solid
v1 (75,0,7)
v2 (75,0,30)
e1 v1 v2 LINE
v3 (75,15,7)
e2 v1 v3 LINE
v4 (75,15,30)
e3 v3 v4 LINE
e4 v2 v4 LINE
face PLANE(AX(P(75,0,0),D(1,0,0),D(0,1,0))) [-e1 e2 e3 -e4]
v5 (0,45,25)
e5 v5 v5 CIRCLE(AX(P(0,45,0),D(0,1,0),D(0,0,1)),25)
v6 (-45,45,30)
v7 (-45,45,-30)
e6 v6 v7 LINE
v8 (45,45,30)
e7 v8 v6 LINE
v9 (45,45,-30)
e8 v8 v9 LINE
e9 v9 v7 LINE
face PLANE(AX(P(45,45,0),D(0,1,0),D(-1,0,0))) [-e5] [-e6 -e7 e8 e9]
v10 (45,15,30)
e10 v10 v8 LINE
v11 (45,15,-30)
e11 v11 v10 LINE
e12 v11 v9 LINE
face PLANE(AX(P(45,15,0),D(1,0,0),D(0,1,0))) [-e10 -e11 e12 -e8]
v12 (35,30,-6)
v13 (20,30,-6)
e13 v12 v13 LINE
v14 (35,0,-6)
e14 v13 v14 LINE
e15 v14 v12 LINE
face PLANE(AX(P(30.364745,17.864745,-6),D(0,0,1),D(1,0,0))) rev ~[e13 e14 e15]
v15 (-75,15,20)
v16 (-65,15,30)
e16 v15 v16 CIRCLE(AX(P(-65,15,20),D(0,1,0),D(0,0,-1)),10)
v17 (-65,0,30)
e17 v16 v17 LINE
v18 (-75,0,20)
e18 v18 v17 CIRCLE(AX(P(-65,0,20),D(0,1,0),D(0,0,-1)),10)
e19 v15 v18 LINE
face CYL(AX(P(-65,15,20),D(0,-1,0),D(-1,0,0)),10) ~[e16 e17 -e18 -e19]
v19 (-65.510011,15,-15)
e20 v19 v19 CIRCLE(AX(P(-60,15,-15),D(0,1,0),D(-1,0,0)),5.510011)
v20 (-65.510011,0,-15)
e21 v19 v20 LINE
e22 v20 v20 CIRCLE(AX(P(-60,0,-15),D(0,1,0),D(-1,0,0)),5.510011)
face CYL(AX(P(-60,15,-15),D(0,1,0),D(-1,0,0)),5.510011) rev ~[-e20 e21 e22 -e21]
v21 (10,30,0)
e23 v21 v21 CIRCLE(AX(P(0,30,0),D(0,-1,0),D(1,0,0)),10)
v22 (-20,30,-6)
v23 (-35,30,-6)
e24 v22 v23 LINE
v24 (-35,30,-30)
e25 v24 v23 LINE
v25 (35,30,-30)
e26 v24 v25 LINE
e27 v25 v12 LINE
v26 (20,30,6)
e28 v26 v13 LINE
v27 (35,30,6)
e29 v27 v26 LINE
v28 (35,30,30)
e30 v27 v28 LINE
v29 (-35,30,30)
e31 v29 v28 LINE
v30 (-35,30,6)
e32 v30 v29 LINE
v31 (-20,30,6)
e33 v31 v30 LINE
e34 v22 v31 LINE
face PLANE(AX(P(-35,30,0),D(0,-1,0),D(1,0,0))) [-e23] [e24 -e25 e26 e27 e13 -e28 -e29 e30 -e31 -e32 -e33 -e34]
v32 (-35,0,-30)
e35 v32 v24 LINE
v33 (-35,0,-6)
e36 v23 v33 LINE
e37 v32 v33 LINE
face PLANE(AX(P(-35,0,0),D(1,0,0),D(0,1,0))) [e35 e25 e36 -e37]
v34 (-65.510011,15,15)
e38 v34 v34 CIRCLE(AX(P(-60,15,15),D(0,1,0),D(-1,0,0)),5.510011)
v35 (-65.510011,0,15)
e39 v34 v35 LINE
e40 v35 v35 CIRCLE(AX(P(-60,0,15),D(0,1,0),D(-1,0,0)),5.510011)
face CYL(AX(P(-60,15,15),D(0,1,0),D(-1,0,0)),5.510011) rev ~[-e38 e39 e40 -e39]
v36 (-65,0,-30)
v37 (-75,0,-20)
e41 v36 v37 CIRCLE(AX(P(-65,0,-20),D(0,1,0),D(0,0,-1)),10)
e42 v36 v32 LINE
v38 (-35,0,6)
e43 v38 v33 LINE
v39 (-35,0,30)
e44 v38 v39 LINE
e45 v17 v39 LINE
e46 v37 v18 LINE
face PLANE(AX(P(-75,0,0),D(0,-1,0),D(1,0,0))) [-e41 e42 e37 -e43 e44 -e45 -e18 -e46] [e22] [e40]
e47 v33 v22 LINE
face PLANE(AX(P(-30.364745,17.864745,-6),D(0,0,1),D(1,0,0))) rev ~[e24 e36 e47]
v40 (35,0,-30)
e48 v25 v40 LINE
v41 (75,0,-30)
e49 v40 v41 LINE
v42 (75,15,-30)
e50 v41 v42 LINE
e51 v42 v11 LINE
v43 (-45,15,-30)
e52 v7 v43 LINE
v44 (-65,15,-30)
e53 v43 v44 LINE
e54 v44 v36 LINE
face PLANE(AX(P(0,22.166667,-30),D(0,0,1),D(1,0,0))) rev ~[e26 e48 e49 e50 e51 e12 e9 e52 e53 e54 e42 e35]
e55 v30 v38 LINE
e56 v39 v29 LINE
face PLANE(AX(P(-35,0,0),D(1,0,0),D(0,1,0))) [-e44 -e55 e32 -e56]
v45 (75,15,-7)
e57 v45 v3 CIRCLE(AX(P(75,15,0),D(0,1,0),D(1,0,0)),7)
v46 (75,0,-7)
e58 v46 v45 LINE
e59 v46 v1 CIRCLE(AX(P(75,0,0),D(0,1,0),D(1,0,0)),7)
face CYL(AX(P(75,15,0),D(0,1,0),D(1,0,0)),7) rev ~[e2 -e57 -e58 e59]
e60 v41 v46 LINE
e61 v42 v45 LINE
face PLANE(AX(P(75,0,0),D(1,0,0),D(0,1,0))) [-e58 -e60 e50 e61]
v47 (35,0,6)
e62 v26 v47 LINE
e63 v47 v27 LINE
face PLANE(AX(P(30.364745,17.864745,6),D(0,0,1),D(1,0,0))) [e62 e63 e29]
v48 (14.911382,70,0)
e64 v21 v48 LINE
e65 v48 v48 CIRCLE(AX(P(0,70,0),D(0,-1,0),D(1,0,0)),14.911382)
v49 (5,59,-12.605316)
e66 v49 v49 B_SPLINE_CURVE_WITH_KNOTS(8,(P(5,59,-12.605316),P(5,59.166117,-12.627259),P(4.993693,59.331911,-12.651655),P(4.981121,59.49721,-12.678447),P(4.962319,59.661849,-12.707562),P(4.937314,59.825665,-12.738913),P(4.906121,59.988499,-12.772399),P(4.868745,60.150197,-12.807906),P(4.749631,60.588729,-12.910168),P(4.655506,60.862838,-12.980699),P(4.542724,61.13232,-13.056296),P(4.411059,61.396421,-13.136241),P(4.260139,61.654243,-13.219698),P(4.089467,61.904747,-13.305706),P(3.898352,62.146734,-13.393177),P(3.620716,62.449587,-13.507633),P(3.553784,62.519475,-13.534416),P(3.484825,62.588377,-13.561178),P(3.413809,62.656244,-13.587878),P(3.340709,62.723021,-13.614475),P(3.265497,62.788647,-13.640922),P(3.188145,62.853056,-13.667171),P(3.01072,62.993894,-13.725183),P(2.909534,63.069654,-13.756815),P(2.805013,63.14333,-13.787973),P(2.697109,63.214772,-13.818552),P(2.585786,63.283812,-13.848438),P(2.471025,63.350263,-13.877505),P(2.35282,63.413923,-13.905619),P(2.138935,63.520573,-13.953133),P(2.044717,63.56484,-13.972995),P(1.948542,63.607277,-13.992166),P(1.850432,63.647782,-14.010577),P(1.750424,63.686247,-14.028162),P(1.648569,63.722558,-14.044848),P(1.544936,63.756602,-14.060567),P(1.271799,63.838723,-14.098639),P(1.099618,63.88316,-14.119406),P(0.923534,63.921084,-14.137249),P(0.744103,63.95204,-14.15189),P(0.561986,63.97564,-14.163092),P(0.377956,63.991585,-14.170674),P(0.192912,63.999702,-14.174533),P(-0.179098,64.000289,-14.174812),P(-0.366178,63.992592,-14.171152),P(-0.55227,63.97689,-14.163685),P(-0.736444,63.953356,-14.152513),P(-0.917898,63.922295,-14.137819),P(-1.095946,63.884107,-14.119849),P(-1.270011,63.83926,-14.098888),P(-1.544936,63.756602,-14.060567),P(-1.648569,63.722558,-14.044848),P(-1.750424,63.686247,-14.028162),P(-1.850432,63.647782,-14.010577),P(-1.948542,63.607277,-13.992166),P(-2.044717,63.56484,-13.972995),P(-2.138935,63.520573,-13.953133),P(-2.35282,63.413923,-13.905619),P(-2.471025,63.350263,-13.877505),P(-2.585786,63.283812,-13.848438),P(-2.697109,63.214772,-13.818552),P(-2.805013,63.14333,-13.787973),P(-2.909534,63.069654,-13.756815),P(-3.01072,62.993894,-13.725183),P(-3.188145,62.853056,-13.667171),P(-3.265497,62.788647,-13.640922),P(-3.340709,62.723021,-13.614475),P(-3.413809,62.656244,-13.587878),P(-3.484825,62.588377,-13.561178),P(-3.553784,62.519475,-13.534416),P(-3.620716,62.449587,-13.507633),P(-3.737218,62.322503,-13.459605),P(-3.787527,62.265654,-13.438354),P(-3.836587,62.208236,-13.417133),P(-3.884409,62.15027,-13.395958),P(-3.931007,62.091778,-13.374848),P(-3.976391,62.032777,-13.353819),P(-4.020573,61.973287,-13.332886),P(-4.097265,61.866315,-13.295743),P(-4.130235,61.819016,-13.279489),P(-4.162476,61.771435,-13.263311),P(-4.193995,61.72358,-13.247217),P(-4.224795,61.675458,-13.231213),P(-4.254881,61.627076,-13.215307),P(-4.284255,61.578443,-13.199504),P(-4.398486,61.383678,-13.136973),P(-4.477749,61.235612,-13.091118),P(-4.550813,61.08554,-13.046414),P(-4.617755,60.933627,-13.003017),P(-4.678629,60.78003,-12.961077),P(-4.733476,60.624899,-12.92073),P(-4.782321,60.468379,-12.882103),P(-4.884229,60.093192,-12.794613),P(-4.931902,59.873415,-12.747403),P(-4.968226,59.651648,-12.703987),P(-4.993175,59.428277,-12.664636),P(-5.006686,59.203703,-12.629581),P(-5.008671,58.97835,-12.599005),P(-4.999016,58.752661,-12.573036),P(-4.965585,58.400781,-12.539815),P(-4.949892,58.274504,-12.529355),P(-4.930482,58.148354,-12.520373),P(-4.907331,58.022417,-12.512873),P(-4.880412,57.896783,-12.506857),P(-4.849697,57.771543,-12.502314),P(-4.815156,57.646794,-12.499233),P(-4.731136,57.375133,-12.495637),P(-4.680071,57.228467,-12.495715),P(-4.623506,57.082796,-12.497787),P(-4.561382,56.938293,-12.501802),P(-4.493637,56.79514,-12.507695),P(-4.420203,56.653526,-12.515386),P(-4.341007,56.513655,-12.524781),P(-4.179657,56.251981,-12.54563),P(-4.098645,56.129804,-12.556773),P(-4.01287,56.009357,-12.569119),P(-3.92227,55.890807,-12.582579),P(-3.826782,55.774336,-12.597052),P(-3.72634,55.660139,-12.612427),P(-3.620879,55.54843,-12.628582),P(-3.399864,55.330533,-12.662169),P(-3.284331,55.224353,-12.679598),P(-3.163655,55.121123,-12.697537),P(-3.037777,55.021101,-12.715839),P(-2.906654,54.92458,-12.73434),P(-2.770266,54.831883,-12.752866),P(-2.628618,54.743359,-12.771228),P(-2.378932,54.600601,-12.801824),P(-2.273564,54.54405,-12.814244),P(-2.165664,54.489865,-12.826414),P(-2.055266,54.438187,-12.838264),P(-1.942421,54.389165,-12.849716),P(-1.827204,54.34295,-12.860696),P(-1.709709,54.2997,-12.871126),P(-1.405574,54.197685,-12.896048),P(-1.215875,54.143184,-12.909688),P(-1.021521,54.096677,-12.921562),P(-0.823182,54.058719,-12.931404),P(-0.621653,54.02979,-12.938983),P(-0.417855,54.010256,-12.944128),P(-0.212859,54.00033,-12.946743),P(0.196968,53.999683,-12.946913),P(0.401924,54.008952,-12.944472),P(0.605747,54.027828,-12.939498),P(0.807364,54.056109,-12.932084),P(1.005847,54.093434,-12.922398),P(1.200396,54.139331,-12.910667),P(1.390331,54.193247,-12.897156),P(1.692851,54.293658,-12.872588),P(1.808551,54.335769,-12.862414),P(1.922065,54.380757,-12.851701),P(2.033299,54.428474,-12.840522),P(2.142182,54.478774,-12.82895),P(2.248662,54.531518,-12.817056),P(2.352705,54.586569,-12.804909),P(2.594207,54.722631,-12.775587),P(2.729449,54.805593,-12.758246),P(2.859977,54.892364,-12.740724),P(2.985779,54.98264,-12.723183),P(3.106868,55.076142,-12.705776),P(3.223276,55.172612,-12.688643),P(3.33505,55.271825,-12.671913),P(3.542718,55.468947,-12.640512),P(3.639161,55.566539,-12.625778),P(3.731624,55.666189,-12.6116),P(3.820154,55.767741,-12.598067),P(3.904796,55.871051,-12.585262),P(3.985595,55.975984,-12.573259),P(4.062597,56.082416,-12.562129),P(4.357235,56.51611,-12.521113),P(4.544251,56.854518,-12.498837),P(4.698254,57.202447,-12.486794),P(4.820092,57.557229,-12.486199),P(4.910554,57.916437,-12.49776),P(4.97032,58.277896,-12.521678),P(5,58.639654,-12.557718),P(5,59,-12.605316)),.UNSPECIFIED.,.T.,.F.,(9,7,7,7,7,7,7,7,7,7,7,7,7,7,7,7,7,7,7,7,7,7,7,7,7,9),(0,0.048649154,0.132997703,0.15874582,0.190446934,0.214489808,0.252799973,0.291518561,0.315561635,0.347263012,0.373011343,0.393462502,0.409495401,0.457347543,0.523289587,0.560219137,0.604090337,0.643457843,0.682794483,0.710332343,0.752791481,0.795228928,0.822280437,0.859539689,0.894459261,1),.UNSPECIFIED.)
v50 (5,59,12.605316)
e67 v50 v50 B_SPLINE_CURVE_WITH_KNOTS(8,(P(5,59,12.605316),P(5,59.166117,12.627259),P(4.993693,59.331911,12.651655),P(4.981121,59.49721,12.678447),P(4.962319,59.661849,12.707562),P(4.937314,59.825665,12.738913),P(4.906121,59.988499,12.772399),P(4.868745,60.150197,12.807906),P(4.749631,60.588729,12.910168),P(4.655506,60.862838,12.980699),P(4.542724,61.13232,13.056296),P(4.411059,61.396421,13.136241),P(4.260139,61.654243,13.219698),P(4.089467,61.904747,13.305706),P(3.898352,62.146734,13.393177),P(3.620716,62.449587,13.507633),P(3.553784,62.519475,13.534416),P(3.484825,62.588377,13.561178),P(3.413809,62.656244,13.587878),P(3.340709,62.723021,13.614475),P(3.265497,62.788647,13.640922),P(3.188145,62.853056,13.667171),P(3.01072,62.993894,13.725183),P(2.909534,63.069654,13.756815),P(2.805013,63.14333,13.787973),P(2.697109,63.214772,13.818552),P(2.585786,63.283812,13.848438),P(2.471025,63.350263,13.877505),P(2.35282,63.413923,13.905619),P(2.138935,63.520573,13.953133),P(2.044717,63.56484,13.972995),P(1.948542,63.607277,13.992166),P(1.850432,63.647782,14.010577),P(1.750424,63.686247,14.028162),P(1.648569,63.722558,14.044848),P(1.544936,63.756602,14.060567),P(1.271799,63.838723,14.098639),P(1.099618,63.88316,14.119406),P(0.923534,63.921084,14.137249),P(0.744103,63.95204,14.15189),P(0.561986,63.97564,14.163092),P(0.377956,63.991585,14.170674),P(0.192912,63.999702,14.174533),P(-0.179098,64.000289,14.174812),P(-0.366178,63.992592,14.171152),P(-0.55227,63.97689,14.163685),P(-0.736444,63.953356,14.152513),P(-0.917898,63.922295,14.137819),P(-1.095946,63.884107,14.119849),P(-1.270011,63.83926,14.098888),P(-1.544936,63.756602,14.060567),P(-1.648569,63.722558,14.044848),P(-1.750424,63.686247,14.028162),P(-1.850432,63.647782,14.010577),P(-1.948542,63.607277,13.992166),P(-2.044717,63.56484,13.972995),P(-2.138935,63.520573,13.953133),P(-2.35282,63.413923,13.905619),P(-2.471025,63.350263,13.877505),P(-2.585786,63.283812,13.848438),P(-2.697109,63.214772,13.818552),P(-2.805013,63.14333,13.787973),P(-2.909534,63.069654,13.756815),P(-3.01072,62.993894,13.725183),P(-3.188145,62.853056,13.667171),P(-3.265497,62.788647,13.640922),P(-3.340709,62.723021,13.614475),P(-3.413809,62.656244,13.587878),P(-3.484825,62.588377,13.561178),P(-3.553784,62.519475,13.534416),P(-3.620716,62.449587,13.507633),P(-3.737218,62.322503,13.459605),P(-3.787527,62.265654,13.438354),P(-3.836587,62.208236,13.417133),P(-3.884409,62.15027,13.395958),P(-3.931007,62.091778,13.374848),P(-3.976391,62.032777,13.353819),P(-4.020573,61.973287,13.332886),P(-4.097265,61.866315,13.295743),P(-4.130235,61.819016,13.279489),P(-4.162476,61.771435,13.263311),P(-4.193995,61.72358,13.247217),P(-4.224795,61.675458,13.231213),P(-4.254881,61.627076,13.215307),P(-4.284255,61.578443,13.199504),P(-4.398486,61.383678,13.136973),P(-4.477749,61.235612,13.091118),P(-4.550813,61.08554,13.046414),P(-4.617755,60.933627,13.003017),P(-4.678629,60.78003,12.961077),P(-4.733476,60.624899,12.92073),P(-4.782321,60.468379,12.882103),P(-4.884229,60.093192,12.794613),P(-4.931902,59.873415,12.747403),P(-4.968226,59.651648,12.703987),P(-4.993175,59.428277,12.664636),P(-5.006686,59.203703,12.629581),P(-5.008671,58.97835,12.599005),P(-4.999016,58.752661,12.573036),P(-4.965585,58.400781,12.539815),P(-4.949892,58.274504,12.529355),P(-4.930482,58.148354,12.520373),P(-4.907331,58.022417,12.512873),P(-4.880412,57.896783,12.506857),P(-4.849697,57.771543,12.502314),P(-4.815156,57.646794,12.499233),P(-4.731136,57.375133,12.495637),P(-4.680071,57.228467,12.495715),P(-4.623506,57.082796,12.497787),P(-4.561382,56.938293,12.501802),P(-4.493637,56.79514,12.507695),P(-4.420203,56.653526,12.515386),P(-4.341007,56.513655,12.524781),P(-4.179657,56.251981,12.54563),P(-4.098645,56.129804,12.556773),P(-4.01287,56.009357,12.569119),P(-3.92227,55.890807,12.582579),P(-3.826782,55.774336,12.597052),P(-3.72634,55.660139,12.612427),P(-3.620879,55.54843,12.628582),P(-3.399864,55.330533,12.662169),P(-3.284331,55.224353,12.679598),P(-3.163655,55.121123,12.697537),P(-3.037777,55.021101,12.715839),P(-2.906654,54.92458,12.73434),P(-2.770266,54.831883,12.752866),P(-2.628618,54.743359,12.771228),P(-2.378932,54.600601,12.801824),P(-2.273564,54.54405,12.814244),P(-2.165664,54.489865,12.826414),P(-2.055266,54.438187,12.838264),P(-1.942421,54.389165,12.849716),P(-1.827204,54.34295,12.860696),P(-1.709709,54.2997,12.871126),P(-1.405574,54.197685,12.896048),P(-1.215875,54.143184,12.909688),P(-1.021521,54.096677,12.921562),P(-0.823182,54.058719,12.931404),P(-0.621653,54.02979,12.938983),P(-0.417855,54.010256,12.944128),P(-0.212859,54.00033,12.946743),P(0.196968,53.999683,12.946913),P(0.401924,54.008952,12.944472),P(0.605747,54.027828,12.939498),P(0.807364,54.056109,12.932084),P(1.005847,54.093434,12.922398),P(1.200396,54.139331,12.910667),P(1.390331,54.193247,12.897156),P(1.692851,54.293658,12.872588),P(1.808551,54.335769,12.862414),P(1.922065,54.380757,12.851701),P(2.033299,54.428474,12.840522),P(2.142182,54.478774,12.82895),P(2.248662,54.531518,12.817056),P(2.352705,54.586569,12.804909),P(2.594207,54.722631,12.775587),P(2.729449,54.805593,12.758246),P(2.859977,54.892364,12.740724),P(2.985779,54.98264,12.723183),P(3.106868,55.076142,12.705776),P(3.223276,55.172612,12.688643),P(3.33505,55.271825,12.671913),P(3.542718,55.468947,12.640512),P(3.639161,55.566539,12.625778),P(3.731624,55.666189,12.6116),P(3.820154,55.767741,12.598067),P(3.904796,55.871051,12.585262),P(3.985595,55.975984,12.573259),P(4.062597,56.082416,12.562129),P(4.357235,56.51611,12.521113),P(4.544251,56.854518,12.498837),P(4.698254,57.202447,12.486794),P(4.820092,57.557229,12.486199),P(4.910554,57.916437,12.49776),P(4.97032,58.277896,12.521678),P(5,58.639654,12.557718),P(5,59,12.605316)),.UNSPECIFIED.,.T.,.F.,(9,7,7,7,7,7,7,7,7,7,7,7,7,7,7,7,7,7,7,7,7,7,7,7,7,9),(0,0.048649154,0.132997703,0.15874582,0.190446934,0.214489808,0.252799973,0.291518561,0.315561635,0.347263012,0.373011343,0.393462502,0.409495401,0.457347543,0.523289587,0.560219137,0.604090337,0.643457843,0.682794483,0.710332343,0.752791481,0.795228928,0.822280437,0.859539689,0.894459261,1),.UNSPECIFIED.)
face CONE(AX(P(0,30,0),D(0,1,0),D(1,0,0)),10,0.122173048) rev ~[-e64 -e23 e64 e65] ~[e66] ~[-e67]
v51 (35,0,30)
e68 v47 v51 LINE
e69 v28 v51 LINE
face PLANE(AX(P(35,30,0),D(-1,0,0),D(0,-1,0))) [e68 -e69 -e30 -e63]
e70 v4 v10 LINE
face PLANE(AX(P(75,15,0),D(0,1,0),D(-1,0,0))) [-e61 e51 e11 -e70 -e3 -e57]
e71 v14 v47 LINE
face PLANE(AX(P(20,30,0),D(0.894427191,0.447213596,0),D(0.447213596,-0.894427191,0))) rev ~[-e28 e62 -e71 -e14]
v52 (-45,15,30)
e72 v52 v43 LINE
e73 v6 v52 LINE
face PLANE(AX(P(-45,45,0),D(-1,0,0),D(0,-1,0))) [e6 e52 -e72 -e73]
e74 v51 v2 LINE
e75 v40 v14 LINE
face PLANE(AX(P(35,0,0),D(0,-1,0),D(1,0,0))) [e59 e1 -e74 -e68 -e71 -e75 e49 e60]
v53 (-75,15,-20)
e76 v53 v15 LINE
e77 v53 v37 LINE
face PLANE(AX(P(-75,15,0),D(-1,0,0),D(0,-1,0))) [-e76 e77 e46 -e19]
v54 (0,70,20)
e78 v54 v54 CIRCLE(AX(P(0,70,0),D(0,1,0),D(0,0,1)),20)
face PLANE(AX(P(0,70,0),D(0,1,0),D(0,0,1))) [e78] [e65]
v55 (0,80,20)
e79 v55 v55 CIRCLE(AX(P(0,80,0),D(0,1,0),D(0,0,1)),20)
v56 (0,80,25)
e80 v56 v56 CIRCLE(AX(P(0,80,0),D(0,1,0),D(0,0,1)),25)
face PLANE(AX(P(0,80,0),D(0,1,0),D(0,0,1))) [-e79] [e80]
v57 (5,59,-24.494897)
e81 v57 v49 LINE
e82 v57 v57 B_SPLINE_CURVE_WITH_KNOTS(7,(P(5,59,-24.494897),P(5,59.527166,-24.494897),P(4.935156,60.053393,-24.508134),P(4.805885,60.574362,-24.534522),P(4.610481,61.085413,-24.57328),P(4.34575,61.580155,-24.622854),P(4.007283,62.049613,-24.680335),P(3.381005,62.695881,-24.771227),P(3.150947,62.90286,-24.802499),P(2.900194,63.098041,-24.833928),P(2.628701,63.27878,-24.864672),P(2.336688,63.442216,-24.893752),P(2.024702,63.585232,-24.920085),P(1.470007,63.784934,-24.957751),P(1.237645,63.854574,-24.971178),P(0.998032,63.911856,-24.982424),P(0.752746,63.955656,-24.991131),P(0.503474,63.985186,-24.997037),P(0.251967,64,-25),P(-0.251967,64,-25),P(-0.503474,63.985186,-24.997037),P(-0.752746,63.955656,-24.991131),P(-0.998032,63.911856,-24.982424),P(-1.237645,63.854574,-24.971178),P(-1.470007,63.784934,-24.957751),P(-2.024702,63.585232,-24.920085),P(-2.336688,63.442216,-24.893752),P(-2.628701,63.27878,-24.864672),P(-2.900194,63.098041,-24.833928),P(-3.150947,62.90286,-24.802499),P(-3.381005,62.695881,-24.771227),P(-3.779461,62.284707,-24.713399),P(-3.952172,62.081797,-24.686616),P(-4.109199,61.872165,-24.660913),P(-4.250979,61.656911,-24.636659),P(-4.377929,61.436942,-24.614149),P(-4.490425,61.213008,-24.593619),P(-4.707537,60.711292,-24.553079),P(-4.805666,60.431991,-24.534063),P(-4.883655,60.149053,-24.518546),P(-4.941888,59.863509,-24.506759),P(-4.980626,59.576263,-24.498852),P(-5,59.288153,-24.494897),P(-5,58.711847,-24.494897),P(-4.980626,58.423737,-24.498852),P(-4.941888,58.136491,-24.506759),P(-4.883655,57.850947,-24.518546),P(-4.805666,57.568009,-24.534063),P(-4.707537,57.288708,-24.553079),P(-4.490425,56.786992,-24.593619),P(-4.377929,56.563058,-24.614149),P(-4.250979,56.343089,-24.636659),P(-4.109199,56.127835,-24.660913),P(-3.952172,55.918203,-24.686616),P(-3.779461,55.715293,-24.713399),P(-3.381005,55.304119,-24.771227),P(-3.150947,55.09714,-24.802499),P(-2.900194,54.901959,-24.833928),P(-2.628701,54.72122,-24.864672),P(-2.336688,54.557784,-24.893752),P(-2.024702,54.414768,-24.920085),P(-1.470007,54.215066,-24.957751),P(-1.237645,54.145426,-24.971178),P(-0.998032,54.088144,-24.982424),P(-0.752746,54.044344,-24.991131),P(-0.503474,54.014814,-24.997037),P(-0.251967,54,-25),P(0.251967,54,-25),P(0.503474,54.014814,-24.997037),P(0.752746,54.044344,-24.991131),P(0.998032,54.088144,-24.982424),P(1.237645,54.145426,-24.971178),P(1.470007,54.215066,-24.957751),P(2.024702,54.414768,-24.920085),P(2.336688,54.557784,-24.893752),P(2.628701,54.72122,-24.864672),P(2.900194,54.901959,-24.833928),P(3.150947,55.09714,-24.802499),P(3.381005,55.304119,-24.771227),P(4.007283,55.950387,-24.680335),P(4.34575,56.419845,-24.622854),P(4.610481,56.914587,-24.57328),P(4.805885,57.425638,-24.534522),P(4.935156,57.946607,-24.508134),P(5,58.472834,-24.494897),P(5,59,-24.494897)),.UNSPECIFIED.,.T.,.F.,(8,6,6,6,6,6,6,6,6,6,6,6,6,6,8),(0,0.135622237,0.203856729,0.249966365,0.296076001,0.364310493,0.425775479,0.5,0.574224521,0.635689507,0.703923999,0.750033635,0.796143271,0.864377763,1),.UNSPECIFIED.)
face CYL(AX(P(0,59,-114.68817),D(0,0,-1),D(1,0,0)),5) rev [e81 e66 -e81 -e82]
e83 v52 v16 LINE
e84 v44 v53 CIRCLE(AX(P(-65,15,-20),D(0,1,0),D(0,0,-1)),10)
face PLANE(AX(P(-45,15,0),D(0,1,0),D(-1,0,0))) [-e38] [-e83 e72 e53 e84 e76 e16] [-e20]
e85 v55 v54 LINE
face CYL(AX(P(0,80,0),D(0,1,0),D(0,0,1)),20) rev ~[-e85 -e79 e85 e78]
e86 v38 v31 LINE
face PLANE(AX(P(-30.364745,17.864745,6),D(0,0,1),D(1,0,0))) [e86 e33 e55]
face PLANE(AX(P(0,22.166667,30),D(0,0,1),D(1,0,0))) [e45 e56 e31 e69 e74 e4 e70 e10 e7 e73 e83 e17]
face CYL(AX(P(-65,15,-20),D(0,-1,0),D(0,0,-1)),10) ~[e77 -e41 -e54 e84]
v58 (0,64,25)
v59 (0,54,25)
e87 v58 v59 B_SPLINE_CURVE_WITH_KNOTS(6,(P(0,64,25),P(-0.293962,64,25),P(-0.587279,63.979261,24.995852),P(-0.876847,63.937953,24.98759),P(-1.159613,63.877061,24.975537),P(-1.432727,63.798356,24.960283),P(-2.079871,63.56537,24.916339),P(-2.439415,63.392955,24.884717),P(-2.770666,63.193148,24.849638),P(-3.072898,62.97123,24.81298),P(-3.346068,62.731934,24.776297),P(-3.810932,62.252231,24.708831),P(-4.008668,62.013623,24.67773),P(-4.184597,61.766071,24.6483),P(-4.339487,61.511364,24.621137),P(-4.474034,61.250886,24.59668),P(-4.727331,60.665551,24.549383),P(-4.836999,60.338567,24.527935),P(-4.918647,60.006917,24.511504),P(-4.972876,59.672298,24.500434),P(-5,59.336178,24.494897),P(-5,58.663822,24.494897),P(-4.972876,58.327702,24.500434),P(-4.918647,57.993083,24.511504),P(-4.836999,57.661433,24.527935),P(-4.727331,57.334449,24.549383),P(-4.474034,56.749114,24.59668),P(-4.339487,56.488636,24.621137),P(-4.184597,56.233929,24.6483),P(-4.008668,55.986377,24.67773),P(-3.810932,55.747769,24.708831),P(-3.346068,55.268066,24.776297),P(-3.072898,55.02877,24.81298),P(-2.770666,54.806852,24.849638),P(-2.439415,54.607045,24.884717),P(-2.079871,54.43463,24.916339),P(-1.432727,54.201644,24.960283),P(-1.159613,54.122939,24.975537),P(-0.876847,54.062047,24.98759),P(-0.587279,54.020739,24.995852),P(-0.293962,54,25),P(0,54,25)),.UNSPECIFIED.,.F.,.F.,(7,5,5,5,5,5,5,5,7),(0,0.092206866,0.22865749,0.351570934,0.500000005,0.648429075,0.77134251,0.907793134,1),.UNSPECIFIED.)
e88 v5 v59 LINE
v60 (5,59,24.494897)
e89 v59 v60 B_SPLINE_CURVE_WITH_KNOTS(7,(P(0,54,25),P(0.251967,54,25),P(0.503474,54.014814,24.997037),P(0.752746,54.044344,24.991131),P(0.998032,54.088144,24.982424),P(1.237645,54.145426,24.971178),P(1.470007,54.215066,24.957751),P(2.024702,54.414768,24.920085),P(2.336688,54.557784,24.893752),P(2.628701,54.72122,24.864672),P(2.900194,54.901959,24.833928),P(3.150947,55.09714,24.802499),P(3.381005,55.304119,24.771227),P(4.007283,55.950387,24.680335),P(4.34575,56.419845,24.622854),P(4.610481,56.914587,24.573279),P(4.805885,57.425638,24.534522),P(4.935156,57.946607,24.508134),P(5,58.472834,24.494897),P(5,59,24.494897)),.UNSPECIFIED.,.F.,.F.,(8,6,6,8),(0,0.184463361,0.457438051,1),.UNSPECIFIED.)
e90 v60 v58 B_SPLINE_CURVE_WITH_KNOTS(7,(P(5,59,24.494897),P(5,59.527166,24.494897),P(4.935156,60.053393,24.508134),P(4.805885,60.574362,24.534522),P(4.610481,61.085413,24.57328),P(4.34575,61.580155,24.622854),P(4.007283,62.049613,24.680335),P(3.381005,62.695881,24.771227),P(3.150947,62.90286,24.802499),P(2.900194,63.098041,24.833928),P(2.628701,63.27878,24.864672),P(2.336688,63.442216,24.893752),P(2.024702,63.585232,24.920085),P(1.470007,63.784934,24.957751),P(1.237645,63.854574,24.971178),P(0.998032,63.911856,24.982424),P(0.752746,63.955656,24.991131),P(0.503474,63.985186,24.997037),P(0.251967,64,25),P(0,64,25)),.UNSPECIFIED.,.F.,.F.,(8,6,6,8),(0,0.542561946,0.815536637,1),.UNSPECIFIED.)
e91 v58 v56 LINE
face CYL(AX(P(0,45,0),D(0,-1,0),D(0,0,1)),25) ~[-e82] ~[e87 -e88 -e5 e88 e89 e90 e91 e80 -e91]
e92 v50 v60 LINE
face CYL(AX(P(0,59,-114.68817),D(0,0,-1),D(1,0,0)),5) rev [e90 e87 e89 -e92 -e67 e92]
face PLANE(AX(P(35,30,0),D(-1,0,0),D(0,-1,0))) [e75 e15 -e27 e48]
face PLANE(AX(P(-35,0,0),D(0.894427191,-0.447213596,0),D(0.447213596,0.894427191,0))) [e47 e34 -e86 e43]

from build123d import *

# Parameters (mm, degrees)
BOSS_EXTRUDE1_DEPTH     = 30
BOSS_EXTRUDE2_DEPTH     = 6
SKETCH3_R               = 5.510010548
CUT_EXTRUDE1_DEPTH      = 87.168439698
FILLET1_R               = 10
SKETCH4_R               = 7
CUT_EXTRUDE2_DEPTH      = 42
SKETCH5_R               = 25
BOSS_EXTRUDE3_DEPTH     = 35
SKETCH6_R               = 20
CUT_EXTRUDE3_DEPTH      = 10
SKETCH8_R               = 10
CUT_EXTRUDE4_DEPTH      = 40
CUT_EXTRUDE4_DRAFT      = 7
CUT_EXTRUDE5_DEPTH      = 114.688170009
CUT_EXTRUDE5_DEPTH_BACK = 114.688170009
SKETCH9_R               = 5


with BuildPart() as part:
    # Sketch1 → Boss-Extrude1 (new, symmetric)
    with BuildSketch(Plane.XY):
        Polygon((-45, 15), (-75, 15), (-75, 0), (-35, 0), (-35, 30), (35, 30), (35, 0), (75, 0), (75, 15), (45, 15), (45, 45), (-45, 45), align=None)
    extrude(amount=BOSS_EXTRUDE1_DEPTH, both=True)

    # Sketch2 → Boss-Extrude2 (add, symmetric)
    with BuildSketch(Plane.XY):
        Polygon((20, 30), (35, 0), (35, 30), align=None)
        Polygon((-35, 0), (-20, 30), (-35, 30), align=None)
    extrude(amount=BOSS_EXTRUDE2_DEPTH, both=True)

    # Sketch3 → Cut-Extrude1 (cut, through all)
    with BuildSketch(Plane(origin=(0, 15, 0), x_dir=(1, 0, 0), z_dir=(0, 1, 0))):
        with Locations(Location((-60, 15, 0), (0, 0, 180))):
            Circle(SKETCH3_R)
        with Locations(Location((-60, -15, 0), (0, 0, 180))):
            Circle(SKETCH3_R)
    extrude(amount=-CUT_EXTRUDE1_DEPTH, mode=Mode.SUBTRACT)

    # Fillet1
    fillet1_edges = [part.edges().sort_by_distance(p)[0] for p in [
        (-75, 7.5, -30),
        (-75, 7.5, 30),
    ]]
    fillet(fillet1_edges, radius=FILLET1_R)

    # Sketch4 → Cut-Extrude2 (cut)
    with BuildSketch(Plane(origin=(0, 15, 0), x_dir=(1, 0, 0), z_dir=(0, 1, 0))):
        with Locations((75, 0)):
            Circle(SKETCH4_R)
    extrude(amount=-CUT_EXTRUDE2_DEPTH, mode=Mode.SUBTRACT)

    # Sketch5 → Boss-Extrude3 (add)
    with BuildSketch(Plane(origin=(0, 45, 0), x_dir=(1, 0, 0), z_dir=(0, 1, 0))):
        with Locations(Location((0, 0, 0), (0, 0, 270))):
            Circle(SKETCH5_R)
    extrude(amount=BOSS_EXTRUDE3_DEPTH)

    # Sketch6 → Cut-Extrude3 (cut)
    with BuildSketch(Plane(origin=(0, 80, 0), x_dir=(1, 0, 0), z_dir=(0, 1, 0))):
        with Locations(Location((0, 0, 0), (0, 0, 270))):
            Circle(SKETCH6_R)
    extrude(amount=-CUT_EXTRUDE3_DEPTH, mode=Mode.SUBTRACT)


with BuildPart() as cut_extrude4_tool:
    # Sketch8 → Cut-Extrude4 (with draft: the straight prism first)
    with BuildSketch(Plane.XZ.offset(-30)):
        Circle(SKETCH8_R)
    extrude(amount=-CUT_EXTRUDE4_DEPTH)
    # Cut-Extrude4: the draft: its side faces are tilted about the plane it starts from
    cut_extrude4_sides = [cut_extrude4_tool.faces().sort_by_distance(p)[0] for p in [
        (-10, 50, 0),
    ]]
    draft(cut_extrude4_sides, Plane.XZ.offset(-30), CUT_EXTRUDE4_DRAFT)


with BuildPart() as part_1:
    add(part.part)

    # Cut-Extrude4: cut by cut_extrude4_tool
    add(cut_extrude4_tool.part, mode=Mode.SUBTRACT)

    # Sketch9 → Cut-Extrude5 (cut, two sides: drawn at the far end of the back side and taken through both)
    with BuildSketch(Plane.XY.offset(-CUT_EXTRUDE5_DEPTH_BACK)):
        with Locations((0, 59)):
            Circle(SKETCH9_R)
    extrude(amount=CUT_EXTRUDE5_DEPTH + CUT_EXTRUDE5_DEPTH_BACK, mode=Mode.SUBTRACT)


solid = part_1.part
